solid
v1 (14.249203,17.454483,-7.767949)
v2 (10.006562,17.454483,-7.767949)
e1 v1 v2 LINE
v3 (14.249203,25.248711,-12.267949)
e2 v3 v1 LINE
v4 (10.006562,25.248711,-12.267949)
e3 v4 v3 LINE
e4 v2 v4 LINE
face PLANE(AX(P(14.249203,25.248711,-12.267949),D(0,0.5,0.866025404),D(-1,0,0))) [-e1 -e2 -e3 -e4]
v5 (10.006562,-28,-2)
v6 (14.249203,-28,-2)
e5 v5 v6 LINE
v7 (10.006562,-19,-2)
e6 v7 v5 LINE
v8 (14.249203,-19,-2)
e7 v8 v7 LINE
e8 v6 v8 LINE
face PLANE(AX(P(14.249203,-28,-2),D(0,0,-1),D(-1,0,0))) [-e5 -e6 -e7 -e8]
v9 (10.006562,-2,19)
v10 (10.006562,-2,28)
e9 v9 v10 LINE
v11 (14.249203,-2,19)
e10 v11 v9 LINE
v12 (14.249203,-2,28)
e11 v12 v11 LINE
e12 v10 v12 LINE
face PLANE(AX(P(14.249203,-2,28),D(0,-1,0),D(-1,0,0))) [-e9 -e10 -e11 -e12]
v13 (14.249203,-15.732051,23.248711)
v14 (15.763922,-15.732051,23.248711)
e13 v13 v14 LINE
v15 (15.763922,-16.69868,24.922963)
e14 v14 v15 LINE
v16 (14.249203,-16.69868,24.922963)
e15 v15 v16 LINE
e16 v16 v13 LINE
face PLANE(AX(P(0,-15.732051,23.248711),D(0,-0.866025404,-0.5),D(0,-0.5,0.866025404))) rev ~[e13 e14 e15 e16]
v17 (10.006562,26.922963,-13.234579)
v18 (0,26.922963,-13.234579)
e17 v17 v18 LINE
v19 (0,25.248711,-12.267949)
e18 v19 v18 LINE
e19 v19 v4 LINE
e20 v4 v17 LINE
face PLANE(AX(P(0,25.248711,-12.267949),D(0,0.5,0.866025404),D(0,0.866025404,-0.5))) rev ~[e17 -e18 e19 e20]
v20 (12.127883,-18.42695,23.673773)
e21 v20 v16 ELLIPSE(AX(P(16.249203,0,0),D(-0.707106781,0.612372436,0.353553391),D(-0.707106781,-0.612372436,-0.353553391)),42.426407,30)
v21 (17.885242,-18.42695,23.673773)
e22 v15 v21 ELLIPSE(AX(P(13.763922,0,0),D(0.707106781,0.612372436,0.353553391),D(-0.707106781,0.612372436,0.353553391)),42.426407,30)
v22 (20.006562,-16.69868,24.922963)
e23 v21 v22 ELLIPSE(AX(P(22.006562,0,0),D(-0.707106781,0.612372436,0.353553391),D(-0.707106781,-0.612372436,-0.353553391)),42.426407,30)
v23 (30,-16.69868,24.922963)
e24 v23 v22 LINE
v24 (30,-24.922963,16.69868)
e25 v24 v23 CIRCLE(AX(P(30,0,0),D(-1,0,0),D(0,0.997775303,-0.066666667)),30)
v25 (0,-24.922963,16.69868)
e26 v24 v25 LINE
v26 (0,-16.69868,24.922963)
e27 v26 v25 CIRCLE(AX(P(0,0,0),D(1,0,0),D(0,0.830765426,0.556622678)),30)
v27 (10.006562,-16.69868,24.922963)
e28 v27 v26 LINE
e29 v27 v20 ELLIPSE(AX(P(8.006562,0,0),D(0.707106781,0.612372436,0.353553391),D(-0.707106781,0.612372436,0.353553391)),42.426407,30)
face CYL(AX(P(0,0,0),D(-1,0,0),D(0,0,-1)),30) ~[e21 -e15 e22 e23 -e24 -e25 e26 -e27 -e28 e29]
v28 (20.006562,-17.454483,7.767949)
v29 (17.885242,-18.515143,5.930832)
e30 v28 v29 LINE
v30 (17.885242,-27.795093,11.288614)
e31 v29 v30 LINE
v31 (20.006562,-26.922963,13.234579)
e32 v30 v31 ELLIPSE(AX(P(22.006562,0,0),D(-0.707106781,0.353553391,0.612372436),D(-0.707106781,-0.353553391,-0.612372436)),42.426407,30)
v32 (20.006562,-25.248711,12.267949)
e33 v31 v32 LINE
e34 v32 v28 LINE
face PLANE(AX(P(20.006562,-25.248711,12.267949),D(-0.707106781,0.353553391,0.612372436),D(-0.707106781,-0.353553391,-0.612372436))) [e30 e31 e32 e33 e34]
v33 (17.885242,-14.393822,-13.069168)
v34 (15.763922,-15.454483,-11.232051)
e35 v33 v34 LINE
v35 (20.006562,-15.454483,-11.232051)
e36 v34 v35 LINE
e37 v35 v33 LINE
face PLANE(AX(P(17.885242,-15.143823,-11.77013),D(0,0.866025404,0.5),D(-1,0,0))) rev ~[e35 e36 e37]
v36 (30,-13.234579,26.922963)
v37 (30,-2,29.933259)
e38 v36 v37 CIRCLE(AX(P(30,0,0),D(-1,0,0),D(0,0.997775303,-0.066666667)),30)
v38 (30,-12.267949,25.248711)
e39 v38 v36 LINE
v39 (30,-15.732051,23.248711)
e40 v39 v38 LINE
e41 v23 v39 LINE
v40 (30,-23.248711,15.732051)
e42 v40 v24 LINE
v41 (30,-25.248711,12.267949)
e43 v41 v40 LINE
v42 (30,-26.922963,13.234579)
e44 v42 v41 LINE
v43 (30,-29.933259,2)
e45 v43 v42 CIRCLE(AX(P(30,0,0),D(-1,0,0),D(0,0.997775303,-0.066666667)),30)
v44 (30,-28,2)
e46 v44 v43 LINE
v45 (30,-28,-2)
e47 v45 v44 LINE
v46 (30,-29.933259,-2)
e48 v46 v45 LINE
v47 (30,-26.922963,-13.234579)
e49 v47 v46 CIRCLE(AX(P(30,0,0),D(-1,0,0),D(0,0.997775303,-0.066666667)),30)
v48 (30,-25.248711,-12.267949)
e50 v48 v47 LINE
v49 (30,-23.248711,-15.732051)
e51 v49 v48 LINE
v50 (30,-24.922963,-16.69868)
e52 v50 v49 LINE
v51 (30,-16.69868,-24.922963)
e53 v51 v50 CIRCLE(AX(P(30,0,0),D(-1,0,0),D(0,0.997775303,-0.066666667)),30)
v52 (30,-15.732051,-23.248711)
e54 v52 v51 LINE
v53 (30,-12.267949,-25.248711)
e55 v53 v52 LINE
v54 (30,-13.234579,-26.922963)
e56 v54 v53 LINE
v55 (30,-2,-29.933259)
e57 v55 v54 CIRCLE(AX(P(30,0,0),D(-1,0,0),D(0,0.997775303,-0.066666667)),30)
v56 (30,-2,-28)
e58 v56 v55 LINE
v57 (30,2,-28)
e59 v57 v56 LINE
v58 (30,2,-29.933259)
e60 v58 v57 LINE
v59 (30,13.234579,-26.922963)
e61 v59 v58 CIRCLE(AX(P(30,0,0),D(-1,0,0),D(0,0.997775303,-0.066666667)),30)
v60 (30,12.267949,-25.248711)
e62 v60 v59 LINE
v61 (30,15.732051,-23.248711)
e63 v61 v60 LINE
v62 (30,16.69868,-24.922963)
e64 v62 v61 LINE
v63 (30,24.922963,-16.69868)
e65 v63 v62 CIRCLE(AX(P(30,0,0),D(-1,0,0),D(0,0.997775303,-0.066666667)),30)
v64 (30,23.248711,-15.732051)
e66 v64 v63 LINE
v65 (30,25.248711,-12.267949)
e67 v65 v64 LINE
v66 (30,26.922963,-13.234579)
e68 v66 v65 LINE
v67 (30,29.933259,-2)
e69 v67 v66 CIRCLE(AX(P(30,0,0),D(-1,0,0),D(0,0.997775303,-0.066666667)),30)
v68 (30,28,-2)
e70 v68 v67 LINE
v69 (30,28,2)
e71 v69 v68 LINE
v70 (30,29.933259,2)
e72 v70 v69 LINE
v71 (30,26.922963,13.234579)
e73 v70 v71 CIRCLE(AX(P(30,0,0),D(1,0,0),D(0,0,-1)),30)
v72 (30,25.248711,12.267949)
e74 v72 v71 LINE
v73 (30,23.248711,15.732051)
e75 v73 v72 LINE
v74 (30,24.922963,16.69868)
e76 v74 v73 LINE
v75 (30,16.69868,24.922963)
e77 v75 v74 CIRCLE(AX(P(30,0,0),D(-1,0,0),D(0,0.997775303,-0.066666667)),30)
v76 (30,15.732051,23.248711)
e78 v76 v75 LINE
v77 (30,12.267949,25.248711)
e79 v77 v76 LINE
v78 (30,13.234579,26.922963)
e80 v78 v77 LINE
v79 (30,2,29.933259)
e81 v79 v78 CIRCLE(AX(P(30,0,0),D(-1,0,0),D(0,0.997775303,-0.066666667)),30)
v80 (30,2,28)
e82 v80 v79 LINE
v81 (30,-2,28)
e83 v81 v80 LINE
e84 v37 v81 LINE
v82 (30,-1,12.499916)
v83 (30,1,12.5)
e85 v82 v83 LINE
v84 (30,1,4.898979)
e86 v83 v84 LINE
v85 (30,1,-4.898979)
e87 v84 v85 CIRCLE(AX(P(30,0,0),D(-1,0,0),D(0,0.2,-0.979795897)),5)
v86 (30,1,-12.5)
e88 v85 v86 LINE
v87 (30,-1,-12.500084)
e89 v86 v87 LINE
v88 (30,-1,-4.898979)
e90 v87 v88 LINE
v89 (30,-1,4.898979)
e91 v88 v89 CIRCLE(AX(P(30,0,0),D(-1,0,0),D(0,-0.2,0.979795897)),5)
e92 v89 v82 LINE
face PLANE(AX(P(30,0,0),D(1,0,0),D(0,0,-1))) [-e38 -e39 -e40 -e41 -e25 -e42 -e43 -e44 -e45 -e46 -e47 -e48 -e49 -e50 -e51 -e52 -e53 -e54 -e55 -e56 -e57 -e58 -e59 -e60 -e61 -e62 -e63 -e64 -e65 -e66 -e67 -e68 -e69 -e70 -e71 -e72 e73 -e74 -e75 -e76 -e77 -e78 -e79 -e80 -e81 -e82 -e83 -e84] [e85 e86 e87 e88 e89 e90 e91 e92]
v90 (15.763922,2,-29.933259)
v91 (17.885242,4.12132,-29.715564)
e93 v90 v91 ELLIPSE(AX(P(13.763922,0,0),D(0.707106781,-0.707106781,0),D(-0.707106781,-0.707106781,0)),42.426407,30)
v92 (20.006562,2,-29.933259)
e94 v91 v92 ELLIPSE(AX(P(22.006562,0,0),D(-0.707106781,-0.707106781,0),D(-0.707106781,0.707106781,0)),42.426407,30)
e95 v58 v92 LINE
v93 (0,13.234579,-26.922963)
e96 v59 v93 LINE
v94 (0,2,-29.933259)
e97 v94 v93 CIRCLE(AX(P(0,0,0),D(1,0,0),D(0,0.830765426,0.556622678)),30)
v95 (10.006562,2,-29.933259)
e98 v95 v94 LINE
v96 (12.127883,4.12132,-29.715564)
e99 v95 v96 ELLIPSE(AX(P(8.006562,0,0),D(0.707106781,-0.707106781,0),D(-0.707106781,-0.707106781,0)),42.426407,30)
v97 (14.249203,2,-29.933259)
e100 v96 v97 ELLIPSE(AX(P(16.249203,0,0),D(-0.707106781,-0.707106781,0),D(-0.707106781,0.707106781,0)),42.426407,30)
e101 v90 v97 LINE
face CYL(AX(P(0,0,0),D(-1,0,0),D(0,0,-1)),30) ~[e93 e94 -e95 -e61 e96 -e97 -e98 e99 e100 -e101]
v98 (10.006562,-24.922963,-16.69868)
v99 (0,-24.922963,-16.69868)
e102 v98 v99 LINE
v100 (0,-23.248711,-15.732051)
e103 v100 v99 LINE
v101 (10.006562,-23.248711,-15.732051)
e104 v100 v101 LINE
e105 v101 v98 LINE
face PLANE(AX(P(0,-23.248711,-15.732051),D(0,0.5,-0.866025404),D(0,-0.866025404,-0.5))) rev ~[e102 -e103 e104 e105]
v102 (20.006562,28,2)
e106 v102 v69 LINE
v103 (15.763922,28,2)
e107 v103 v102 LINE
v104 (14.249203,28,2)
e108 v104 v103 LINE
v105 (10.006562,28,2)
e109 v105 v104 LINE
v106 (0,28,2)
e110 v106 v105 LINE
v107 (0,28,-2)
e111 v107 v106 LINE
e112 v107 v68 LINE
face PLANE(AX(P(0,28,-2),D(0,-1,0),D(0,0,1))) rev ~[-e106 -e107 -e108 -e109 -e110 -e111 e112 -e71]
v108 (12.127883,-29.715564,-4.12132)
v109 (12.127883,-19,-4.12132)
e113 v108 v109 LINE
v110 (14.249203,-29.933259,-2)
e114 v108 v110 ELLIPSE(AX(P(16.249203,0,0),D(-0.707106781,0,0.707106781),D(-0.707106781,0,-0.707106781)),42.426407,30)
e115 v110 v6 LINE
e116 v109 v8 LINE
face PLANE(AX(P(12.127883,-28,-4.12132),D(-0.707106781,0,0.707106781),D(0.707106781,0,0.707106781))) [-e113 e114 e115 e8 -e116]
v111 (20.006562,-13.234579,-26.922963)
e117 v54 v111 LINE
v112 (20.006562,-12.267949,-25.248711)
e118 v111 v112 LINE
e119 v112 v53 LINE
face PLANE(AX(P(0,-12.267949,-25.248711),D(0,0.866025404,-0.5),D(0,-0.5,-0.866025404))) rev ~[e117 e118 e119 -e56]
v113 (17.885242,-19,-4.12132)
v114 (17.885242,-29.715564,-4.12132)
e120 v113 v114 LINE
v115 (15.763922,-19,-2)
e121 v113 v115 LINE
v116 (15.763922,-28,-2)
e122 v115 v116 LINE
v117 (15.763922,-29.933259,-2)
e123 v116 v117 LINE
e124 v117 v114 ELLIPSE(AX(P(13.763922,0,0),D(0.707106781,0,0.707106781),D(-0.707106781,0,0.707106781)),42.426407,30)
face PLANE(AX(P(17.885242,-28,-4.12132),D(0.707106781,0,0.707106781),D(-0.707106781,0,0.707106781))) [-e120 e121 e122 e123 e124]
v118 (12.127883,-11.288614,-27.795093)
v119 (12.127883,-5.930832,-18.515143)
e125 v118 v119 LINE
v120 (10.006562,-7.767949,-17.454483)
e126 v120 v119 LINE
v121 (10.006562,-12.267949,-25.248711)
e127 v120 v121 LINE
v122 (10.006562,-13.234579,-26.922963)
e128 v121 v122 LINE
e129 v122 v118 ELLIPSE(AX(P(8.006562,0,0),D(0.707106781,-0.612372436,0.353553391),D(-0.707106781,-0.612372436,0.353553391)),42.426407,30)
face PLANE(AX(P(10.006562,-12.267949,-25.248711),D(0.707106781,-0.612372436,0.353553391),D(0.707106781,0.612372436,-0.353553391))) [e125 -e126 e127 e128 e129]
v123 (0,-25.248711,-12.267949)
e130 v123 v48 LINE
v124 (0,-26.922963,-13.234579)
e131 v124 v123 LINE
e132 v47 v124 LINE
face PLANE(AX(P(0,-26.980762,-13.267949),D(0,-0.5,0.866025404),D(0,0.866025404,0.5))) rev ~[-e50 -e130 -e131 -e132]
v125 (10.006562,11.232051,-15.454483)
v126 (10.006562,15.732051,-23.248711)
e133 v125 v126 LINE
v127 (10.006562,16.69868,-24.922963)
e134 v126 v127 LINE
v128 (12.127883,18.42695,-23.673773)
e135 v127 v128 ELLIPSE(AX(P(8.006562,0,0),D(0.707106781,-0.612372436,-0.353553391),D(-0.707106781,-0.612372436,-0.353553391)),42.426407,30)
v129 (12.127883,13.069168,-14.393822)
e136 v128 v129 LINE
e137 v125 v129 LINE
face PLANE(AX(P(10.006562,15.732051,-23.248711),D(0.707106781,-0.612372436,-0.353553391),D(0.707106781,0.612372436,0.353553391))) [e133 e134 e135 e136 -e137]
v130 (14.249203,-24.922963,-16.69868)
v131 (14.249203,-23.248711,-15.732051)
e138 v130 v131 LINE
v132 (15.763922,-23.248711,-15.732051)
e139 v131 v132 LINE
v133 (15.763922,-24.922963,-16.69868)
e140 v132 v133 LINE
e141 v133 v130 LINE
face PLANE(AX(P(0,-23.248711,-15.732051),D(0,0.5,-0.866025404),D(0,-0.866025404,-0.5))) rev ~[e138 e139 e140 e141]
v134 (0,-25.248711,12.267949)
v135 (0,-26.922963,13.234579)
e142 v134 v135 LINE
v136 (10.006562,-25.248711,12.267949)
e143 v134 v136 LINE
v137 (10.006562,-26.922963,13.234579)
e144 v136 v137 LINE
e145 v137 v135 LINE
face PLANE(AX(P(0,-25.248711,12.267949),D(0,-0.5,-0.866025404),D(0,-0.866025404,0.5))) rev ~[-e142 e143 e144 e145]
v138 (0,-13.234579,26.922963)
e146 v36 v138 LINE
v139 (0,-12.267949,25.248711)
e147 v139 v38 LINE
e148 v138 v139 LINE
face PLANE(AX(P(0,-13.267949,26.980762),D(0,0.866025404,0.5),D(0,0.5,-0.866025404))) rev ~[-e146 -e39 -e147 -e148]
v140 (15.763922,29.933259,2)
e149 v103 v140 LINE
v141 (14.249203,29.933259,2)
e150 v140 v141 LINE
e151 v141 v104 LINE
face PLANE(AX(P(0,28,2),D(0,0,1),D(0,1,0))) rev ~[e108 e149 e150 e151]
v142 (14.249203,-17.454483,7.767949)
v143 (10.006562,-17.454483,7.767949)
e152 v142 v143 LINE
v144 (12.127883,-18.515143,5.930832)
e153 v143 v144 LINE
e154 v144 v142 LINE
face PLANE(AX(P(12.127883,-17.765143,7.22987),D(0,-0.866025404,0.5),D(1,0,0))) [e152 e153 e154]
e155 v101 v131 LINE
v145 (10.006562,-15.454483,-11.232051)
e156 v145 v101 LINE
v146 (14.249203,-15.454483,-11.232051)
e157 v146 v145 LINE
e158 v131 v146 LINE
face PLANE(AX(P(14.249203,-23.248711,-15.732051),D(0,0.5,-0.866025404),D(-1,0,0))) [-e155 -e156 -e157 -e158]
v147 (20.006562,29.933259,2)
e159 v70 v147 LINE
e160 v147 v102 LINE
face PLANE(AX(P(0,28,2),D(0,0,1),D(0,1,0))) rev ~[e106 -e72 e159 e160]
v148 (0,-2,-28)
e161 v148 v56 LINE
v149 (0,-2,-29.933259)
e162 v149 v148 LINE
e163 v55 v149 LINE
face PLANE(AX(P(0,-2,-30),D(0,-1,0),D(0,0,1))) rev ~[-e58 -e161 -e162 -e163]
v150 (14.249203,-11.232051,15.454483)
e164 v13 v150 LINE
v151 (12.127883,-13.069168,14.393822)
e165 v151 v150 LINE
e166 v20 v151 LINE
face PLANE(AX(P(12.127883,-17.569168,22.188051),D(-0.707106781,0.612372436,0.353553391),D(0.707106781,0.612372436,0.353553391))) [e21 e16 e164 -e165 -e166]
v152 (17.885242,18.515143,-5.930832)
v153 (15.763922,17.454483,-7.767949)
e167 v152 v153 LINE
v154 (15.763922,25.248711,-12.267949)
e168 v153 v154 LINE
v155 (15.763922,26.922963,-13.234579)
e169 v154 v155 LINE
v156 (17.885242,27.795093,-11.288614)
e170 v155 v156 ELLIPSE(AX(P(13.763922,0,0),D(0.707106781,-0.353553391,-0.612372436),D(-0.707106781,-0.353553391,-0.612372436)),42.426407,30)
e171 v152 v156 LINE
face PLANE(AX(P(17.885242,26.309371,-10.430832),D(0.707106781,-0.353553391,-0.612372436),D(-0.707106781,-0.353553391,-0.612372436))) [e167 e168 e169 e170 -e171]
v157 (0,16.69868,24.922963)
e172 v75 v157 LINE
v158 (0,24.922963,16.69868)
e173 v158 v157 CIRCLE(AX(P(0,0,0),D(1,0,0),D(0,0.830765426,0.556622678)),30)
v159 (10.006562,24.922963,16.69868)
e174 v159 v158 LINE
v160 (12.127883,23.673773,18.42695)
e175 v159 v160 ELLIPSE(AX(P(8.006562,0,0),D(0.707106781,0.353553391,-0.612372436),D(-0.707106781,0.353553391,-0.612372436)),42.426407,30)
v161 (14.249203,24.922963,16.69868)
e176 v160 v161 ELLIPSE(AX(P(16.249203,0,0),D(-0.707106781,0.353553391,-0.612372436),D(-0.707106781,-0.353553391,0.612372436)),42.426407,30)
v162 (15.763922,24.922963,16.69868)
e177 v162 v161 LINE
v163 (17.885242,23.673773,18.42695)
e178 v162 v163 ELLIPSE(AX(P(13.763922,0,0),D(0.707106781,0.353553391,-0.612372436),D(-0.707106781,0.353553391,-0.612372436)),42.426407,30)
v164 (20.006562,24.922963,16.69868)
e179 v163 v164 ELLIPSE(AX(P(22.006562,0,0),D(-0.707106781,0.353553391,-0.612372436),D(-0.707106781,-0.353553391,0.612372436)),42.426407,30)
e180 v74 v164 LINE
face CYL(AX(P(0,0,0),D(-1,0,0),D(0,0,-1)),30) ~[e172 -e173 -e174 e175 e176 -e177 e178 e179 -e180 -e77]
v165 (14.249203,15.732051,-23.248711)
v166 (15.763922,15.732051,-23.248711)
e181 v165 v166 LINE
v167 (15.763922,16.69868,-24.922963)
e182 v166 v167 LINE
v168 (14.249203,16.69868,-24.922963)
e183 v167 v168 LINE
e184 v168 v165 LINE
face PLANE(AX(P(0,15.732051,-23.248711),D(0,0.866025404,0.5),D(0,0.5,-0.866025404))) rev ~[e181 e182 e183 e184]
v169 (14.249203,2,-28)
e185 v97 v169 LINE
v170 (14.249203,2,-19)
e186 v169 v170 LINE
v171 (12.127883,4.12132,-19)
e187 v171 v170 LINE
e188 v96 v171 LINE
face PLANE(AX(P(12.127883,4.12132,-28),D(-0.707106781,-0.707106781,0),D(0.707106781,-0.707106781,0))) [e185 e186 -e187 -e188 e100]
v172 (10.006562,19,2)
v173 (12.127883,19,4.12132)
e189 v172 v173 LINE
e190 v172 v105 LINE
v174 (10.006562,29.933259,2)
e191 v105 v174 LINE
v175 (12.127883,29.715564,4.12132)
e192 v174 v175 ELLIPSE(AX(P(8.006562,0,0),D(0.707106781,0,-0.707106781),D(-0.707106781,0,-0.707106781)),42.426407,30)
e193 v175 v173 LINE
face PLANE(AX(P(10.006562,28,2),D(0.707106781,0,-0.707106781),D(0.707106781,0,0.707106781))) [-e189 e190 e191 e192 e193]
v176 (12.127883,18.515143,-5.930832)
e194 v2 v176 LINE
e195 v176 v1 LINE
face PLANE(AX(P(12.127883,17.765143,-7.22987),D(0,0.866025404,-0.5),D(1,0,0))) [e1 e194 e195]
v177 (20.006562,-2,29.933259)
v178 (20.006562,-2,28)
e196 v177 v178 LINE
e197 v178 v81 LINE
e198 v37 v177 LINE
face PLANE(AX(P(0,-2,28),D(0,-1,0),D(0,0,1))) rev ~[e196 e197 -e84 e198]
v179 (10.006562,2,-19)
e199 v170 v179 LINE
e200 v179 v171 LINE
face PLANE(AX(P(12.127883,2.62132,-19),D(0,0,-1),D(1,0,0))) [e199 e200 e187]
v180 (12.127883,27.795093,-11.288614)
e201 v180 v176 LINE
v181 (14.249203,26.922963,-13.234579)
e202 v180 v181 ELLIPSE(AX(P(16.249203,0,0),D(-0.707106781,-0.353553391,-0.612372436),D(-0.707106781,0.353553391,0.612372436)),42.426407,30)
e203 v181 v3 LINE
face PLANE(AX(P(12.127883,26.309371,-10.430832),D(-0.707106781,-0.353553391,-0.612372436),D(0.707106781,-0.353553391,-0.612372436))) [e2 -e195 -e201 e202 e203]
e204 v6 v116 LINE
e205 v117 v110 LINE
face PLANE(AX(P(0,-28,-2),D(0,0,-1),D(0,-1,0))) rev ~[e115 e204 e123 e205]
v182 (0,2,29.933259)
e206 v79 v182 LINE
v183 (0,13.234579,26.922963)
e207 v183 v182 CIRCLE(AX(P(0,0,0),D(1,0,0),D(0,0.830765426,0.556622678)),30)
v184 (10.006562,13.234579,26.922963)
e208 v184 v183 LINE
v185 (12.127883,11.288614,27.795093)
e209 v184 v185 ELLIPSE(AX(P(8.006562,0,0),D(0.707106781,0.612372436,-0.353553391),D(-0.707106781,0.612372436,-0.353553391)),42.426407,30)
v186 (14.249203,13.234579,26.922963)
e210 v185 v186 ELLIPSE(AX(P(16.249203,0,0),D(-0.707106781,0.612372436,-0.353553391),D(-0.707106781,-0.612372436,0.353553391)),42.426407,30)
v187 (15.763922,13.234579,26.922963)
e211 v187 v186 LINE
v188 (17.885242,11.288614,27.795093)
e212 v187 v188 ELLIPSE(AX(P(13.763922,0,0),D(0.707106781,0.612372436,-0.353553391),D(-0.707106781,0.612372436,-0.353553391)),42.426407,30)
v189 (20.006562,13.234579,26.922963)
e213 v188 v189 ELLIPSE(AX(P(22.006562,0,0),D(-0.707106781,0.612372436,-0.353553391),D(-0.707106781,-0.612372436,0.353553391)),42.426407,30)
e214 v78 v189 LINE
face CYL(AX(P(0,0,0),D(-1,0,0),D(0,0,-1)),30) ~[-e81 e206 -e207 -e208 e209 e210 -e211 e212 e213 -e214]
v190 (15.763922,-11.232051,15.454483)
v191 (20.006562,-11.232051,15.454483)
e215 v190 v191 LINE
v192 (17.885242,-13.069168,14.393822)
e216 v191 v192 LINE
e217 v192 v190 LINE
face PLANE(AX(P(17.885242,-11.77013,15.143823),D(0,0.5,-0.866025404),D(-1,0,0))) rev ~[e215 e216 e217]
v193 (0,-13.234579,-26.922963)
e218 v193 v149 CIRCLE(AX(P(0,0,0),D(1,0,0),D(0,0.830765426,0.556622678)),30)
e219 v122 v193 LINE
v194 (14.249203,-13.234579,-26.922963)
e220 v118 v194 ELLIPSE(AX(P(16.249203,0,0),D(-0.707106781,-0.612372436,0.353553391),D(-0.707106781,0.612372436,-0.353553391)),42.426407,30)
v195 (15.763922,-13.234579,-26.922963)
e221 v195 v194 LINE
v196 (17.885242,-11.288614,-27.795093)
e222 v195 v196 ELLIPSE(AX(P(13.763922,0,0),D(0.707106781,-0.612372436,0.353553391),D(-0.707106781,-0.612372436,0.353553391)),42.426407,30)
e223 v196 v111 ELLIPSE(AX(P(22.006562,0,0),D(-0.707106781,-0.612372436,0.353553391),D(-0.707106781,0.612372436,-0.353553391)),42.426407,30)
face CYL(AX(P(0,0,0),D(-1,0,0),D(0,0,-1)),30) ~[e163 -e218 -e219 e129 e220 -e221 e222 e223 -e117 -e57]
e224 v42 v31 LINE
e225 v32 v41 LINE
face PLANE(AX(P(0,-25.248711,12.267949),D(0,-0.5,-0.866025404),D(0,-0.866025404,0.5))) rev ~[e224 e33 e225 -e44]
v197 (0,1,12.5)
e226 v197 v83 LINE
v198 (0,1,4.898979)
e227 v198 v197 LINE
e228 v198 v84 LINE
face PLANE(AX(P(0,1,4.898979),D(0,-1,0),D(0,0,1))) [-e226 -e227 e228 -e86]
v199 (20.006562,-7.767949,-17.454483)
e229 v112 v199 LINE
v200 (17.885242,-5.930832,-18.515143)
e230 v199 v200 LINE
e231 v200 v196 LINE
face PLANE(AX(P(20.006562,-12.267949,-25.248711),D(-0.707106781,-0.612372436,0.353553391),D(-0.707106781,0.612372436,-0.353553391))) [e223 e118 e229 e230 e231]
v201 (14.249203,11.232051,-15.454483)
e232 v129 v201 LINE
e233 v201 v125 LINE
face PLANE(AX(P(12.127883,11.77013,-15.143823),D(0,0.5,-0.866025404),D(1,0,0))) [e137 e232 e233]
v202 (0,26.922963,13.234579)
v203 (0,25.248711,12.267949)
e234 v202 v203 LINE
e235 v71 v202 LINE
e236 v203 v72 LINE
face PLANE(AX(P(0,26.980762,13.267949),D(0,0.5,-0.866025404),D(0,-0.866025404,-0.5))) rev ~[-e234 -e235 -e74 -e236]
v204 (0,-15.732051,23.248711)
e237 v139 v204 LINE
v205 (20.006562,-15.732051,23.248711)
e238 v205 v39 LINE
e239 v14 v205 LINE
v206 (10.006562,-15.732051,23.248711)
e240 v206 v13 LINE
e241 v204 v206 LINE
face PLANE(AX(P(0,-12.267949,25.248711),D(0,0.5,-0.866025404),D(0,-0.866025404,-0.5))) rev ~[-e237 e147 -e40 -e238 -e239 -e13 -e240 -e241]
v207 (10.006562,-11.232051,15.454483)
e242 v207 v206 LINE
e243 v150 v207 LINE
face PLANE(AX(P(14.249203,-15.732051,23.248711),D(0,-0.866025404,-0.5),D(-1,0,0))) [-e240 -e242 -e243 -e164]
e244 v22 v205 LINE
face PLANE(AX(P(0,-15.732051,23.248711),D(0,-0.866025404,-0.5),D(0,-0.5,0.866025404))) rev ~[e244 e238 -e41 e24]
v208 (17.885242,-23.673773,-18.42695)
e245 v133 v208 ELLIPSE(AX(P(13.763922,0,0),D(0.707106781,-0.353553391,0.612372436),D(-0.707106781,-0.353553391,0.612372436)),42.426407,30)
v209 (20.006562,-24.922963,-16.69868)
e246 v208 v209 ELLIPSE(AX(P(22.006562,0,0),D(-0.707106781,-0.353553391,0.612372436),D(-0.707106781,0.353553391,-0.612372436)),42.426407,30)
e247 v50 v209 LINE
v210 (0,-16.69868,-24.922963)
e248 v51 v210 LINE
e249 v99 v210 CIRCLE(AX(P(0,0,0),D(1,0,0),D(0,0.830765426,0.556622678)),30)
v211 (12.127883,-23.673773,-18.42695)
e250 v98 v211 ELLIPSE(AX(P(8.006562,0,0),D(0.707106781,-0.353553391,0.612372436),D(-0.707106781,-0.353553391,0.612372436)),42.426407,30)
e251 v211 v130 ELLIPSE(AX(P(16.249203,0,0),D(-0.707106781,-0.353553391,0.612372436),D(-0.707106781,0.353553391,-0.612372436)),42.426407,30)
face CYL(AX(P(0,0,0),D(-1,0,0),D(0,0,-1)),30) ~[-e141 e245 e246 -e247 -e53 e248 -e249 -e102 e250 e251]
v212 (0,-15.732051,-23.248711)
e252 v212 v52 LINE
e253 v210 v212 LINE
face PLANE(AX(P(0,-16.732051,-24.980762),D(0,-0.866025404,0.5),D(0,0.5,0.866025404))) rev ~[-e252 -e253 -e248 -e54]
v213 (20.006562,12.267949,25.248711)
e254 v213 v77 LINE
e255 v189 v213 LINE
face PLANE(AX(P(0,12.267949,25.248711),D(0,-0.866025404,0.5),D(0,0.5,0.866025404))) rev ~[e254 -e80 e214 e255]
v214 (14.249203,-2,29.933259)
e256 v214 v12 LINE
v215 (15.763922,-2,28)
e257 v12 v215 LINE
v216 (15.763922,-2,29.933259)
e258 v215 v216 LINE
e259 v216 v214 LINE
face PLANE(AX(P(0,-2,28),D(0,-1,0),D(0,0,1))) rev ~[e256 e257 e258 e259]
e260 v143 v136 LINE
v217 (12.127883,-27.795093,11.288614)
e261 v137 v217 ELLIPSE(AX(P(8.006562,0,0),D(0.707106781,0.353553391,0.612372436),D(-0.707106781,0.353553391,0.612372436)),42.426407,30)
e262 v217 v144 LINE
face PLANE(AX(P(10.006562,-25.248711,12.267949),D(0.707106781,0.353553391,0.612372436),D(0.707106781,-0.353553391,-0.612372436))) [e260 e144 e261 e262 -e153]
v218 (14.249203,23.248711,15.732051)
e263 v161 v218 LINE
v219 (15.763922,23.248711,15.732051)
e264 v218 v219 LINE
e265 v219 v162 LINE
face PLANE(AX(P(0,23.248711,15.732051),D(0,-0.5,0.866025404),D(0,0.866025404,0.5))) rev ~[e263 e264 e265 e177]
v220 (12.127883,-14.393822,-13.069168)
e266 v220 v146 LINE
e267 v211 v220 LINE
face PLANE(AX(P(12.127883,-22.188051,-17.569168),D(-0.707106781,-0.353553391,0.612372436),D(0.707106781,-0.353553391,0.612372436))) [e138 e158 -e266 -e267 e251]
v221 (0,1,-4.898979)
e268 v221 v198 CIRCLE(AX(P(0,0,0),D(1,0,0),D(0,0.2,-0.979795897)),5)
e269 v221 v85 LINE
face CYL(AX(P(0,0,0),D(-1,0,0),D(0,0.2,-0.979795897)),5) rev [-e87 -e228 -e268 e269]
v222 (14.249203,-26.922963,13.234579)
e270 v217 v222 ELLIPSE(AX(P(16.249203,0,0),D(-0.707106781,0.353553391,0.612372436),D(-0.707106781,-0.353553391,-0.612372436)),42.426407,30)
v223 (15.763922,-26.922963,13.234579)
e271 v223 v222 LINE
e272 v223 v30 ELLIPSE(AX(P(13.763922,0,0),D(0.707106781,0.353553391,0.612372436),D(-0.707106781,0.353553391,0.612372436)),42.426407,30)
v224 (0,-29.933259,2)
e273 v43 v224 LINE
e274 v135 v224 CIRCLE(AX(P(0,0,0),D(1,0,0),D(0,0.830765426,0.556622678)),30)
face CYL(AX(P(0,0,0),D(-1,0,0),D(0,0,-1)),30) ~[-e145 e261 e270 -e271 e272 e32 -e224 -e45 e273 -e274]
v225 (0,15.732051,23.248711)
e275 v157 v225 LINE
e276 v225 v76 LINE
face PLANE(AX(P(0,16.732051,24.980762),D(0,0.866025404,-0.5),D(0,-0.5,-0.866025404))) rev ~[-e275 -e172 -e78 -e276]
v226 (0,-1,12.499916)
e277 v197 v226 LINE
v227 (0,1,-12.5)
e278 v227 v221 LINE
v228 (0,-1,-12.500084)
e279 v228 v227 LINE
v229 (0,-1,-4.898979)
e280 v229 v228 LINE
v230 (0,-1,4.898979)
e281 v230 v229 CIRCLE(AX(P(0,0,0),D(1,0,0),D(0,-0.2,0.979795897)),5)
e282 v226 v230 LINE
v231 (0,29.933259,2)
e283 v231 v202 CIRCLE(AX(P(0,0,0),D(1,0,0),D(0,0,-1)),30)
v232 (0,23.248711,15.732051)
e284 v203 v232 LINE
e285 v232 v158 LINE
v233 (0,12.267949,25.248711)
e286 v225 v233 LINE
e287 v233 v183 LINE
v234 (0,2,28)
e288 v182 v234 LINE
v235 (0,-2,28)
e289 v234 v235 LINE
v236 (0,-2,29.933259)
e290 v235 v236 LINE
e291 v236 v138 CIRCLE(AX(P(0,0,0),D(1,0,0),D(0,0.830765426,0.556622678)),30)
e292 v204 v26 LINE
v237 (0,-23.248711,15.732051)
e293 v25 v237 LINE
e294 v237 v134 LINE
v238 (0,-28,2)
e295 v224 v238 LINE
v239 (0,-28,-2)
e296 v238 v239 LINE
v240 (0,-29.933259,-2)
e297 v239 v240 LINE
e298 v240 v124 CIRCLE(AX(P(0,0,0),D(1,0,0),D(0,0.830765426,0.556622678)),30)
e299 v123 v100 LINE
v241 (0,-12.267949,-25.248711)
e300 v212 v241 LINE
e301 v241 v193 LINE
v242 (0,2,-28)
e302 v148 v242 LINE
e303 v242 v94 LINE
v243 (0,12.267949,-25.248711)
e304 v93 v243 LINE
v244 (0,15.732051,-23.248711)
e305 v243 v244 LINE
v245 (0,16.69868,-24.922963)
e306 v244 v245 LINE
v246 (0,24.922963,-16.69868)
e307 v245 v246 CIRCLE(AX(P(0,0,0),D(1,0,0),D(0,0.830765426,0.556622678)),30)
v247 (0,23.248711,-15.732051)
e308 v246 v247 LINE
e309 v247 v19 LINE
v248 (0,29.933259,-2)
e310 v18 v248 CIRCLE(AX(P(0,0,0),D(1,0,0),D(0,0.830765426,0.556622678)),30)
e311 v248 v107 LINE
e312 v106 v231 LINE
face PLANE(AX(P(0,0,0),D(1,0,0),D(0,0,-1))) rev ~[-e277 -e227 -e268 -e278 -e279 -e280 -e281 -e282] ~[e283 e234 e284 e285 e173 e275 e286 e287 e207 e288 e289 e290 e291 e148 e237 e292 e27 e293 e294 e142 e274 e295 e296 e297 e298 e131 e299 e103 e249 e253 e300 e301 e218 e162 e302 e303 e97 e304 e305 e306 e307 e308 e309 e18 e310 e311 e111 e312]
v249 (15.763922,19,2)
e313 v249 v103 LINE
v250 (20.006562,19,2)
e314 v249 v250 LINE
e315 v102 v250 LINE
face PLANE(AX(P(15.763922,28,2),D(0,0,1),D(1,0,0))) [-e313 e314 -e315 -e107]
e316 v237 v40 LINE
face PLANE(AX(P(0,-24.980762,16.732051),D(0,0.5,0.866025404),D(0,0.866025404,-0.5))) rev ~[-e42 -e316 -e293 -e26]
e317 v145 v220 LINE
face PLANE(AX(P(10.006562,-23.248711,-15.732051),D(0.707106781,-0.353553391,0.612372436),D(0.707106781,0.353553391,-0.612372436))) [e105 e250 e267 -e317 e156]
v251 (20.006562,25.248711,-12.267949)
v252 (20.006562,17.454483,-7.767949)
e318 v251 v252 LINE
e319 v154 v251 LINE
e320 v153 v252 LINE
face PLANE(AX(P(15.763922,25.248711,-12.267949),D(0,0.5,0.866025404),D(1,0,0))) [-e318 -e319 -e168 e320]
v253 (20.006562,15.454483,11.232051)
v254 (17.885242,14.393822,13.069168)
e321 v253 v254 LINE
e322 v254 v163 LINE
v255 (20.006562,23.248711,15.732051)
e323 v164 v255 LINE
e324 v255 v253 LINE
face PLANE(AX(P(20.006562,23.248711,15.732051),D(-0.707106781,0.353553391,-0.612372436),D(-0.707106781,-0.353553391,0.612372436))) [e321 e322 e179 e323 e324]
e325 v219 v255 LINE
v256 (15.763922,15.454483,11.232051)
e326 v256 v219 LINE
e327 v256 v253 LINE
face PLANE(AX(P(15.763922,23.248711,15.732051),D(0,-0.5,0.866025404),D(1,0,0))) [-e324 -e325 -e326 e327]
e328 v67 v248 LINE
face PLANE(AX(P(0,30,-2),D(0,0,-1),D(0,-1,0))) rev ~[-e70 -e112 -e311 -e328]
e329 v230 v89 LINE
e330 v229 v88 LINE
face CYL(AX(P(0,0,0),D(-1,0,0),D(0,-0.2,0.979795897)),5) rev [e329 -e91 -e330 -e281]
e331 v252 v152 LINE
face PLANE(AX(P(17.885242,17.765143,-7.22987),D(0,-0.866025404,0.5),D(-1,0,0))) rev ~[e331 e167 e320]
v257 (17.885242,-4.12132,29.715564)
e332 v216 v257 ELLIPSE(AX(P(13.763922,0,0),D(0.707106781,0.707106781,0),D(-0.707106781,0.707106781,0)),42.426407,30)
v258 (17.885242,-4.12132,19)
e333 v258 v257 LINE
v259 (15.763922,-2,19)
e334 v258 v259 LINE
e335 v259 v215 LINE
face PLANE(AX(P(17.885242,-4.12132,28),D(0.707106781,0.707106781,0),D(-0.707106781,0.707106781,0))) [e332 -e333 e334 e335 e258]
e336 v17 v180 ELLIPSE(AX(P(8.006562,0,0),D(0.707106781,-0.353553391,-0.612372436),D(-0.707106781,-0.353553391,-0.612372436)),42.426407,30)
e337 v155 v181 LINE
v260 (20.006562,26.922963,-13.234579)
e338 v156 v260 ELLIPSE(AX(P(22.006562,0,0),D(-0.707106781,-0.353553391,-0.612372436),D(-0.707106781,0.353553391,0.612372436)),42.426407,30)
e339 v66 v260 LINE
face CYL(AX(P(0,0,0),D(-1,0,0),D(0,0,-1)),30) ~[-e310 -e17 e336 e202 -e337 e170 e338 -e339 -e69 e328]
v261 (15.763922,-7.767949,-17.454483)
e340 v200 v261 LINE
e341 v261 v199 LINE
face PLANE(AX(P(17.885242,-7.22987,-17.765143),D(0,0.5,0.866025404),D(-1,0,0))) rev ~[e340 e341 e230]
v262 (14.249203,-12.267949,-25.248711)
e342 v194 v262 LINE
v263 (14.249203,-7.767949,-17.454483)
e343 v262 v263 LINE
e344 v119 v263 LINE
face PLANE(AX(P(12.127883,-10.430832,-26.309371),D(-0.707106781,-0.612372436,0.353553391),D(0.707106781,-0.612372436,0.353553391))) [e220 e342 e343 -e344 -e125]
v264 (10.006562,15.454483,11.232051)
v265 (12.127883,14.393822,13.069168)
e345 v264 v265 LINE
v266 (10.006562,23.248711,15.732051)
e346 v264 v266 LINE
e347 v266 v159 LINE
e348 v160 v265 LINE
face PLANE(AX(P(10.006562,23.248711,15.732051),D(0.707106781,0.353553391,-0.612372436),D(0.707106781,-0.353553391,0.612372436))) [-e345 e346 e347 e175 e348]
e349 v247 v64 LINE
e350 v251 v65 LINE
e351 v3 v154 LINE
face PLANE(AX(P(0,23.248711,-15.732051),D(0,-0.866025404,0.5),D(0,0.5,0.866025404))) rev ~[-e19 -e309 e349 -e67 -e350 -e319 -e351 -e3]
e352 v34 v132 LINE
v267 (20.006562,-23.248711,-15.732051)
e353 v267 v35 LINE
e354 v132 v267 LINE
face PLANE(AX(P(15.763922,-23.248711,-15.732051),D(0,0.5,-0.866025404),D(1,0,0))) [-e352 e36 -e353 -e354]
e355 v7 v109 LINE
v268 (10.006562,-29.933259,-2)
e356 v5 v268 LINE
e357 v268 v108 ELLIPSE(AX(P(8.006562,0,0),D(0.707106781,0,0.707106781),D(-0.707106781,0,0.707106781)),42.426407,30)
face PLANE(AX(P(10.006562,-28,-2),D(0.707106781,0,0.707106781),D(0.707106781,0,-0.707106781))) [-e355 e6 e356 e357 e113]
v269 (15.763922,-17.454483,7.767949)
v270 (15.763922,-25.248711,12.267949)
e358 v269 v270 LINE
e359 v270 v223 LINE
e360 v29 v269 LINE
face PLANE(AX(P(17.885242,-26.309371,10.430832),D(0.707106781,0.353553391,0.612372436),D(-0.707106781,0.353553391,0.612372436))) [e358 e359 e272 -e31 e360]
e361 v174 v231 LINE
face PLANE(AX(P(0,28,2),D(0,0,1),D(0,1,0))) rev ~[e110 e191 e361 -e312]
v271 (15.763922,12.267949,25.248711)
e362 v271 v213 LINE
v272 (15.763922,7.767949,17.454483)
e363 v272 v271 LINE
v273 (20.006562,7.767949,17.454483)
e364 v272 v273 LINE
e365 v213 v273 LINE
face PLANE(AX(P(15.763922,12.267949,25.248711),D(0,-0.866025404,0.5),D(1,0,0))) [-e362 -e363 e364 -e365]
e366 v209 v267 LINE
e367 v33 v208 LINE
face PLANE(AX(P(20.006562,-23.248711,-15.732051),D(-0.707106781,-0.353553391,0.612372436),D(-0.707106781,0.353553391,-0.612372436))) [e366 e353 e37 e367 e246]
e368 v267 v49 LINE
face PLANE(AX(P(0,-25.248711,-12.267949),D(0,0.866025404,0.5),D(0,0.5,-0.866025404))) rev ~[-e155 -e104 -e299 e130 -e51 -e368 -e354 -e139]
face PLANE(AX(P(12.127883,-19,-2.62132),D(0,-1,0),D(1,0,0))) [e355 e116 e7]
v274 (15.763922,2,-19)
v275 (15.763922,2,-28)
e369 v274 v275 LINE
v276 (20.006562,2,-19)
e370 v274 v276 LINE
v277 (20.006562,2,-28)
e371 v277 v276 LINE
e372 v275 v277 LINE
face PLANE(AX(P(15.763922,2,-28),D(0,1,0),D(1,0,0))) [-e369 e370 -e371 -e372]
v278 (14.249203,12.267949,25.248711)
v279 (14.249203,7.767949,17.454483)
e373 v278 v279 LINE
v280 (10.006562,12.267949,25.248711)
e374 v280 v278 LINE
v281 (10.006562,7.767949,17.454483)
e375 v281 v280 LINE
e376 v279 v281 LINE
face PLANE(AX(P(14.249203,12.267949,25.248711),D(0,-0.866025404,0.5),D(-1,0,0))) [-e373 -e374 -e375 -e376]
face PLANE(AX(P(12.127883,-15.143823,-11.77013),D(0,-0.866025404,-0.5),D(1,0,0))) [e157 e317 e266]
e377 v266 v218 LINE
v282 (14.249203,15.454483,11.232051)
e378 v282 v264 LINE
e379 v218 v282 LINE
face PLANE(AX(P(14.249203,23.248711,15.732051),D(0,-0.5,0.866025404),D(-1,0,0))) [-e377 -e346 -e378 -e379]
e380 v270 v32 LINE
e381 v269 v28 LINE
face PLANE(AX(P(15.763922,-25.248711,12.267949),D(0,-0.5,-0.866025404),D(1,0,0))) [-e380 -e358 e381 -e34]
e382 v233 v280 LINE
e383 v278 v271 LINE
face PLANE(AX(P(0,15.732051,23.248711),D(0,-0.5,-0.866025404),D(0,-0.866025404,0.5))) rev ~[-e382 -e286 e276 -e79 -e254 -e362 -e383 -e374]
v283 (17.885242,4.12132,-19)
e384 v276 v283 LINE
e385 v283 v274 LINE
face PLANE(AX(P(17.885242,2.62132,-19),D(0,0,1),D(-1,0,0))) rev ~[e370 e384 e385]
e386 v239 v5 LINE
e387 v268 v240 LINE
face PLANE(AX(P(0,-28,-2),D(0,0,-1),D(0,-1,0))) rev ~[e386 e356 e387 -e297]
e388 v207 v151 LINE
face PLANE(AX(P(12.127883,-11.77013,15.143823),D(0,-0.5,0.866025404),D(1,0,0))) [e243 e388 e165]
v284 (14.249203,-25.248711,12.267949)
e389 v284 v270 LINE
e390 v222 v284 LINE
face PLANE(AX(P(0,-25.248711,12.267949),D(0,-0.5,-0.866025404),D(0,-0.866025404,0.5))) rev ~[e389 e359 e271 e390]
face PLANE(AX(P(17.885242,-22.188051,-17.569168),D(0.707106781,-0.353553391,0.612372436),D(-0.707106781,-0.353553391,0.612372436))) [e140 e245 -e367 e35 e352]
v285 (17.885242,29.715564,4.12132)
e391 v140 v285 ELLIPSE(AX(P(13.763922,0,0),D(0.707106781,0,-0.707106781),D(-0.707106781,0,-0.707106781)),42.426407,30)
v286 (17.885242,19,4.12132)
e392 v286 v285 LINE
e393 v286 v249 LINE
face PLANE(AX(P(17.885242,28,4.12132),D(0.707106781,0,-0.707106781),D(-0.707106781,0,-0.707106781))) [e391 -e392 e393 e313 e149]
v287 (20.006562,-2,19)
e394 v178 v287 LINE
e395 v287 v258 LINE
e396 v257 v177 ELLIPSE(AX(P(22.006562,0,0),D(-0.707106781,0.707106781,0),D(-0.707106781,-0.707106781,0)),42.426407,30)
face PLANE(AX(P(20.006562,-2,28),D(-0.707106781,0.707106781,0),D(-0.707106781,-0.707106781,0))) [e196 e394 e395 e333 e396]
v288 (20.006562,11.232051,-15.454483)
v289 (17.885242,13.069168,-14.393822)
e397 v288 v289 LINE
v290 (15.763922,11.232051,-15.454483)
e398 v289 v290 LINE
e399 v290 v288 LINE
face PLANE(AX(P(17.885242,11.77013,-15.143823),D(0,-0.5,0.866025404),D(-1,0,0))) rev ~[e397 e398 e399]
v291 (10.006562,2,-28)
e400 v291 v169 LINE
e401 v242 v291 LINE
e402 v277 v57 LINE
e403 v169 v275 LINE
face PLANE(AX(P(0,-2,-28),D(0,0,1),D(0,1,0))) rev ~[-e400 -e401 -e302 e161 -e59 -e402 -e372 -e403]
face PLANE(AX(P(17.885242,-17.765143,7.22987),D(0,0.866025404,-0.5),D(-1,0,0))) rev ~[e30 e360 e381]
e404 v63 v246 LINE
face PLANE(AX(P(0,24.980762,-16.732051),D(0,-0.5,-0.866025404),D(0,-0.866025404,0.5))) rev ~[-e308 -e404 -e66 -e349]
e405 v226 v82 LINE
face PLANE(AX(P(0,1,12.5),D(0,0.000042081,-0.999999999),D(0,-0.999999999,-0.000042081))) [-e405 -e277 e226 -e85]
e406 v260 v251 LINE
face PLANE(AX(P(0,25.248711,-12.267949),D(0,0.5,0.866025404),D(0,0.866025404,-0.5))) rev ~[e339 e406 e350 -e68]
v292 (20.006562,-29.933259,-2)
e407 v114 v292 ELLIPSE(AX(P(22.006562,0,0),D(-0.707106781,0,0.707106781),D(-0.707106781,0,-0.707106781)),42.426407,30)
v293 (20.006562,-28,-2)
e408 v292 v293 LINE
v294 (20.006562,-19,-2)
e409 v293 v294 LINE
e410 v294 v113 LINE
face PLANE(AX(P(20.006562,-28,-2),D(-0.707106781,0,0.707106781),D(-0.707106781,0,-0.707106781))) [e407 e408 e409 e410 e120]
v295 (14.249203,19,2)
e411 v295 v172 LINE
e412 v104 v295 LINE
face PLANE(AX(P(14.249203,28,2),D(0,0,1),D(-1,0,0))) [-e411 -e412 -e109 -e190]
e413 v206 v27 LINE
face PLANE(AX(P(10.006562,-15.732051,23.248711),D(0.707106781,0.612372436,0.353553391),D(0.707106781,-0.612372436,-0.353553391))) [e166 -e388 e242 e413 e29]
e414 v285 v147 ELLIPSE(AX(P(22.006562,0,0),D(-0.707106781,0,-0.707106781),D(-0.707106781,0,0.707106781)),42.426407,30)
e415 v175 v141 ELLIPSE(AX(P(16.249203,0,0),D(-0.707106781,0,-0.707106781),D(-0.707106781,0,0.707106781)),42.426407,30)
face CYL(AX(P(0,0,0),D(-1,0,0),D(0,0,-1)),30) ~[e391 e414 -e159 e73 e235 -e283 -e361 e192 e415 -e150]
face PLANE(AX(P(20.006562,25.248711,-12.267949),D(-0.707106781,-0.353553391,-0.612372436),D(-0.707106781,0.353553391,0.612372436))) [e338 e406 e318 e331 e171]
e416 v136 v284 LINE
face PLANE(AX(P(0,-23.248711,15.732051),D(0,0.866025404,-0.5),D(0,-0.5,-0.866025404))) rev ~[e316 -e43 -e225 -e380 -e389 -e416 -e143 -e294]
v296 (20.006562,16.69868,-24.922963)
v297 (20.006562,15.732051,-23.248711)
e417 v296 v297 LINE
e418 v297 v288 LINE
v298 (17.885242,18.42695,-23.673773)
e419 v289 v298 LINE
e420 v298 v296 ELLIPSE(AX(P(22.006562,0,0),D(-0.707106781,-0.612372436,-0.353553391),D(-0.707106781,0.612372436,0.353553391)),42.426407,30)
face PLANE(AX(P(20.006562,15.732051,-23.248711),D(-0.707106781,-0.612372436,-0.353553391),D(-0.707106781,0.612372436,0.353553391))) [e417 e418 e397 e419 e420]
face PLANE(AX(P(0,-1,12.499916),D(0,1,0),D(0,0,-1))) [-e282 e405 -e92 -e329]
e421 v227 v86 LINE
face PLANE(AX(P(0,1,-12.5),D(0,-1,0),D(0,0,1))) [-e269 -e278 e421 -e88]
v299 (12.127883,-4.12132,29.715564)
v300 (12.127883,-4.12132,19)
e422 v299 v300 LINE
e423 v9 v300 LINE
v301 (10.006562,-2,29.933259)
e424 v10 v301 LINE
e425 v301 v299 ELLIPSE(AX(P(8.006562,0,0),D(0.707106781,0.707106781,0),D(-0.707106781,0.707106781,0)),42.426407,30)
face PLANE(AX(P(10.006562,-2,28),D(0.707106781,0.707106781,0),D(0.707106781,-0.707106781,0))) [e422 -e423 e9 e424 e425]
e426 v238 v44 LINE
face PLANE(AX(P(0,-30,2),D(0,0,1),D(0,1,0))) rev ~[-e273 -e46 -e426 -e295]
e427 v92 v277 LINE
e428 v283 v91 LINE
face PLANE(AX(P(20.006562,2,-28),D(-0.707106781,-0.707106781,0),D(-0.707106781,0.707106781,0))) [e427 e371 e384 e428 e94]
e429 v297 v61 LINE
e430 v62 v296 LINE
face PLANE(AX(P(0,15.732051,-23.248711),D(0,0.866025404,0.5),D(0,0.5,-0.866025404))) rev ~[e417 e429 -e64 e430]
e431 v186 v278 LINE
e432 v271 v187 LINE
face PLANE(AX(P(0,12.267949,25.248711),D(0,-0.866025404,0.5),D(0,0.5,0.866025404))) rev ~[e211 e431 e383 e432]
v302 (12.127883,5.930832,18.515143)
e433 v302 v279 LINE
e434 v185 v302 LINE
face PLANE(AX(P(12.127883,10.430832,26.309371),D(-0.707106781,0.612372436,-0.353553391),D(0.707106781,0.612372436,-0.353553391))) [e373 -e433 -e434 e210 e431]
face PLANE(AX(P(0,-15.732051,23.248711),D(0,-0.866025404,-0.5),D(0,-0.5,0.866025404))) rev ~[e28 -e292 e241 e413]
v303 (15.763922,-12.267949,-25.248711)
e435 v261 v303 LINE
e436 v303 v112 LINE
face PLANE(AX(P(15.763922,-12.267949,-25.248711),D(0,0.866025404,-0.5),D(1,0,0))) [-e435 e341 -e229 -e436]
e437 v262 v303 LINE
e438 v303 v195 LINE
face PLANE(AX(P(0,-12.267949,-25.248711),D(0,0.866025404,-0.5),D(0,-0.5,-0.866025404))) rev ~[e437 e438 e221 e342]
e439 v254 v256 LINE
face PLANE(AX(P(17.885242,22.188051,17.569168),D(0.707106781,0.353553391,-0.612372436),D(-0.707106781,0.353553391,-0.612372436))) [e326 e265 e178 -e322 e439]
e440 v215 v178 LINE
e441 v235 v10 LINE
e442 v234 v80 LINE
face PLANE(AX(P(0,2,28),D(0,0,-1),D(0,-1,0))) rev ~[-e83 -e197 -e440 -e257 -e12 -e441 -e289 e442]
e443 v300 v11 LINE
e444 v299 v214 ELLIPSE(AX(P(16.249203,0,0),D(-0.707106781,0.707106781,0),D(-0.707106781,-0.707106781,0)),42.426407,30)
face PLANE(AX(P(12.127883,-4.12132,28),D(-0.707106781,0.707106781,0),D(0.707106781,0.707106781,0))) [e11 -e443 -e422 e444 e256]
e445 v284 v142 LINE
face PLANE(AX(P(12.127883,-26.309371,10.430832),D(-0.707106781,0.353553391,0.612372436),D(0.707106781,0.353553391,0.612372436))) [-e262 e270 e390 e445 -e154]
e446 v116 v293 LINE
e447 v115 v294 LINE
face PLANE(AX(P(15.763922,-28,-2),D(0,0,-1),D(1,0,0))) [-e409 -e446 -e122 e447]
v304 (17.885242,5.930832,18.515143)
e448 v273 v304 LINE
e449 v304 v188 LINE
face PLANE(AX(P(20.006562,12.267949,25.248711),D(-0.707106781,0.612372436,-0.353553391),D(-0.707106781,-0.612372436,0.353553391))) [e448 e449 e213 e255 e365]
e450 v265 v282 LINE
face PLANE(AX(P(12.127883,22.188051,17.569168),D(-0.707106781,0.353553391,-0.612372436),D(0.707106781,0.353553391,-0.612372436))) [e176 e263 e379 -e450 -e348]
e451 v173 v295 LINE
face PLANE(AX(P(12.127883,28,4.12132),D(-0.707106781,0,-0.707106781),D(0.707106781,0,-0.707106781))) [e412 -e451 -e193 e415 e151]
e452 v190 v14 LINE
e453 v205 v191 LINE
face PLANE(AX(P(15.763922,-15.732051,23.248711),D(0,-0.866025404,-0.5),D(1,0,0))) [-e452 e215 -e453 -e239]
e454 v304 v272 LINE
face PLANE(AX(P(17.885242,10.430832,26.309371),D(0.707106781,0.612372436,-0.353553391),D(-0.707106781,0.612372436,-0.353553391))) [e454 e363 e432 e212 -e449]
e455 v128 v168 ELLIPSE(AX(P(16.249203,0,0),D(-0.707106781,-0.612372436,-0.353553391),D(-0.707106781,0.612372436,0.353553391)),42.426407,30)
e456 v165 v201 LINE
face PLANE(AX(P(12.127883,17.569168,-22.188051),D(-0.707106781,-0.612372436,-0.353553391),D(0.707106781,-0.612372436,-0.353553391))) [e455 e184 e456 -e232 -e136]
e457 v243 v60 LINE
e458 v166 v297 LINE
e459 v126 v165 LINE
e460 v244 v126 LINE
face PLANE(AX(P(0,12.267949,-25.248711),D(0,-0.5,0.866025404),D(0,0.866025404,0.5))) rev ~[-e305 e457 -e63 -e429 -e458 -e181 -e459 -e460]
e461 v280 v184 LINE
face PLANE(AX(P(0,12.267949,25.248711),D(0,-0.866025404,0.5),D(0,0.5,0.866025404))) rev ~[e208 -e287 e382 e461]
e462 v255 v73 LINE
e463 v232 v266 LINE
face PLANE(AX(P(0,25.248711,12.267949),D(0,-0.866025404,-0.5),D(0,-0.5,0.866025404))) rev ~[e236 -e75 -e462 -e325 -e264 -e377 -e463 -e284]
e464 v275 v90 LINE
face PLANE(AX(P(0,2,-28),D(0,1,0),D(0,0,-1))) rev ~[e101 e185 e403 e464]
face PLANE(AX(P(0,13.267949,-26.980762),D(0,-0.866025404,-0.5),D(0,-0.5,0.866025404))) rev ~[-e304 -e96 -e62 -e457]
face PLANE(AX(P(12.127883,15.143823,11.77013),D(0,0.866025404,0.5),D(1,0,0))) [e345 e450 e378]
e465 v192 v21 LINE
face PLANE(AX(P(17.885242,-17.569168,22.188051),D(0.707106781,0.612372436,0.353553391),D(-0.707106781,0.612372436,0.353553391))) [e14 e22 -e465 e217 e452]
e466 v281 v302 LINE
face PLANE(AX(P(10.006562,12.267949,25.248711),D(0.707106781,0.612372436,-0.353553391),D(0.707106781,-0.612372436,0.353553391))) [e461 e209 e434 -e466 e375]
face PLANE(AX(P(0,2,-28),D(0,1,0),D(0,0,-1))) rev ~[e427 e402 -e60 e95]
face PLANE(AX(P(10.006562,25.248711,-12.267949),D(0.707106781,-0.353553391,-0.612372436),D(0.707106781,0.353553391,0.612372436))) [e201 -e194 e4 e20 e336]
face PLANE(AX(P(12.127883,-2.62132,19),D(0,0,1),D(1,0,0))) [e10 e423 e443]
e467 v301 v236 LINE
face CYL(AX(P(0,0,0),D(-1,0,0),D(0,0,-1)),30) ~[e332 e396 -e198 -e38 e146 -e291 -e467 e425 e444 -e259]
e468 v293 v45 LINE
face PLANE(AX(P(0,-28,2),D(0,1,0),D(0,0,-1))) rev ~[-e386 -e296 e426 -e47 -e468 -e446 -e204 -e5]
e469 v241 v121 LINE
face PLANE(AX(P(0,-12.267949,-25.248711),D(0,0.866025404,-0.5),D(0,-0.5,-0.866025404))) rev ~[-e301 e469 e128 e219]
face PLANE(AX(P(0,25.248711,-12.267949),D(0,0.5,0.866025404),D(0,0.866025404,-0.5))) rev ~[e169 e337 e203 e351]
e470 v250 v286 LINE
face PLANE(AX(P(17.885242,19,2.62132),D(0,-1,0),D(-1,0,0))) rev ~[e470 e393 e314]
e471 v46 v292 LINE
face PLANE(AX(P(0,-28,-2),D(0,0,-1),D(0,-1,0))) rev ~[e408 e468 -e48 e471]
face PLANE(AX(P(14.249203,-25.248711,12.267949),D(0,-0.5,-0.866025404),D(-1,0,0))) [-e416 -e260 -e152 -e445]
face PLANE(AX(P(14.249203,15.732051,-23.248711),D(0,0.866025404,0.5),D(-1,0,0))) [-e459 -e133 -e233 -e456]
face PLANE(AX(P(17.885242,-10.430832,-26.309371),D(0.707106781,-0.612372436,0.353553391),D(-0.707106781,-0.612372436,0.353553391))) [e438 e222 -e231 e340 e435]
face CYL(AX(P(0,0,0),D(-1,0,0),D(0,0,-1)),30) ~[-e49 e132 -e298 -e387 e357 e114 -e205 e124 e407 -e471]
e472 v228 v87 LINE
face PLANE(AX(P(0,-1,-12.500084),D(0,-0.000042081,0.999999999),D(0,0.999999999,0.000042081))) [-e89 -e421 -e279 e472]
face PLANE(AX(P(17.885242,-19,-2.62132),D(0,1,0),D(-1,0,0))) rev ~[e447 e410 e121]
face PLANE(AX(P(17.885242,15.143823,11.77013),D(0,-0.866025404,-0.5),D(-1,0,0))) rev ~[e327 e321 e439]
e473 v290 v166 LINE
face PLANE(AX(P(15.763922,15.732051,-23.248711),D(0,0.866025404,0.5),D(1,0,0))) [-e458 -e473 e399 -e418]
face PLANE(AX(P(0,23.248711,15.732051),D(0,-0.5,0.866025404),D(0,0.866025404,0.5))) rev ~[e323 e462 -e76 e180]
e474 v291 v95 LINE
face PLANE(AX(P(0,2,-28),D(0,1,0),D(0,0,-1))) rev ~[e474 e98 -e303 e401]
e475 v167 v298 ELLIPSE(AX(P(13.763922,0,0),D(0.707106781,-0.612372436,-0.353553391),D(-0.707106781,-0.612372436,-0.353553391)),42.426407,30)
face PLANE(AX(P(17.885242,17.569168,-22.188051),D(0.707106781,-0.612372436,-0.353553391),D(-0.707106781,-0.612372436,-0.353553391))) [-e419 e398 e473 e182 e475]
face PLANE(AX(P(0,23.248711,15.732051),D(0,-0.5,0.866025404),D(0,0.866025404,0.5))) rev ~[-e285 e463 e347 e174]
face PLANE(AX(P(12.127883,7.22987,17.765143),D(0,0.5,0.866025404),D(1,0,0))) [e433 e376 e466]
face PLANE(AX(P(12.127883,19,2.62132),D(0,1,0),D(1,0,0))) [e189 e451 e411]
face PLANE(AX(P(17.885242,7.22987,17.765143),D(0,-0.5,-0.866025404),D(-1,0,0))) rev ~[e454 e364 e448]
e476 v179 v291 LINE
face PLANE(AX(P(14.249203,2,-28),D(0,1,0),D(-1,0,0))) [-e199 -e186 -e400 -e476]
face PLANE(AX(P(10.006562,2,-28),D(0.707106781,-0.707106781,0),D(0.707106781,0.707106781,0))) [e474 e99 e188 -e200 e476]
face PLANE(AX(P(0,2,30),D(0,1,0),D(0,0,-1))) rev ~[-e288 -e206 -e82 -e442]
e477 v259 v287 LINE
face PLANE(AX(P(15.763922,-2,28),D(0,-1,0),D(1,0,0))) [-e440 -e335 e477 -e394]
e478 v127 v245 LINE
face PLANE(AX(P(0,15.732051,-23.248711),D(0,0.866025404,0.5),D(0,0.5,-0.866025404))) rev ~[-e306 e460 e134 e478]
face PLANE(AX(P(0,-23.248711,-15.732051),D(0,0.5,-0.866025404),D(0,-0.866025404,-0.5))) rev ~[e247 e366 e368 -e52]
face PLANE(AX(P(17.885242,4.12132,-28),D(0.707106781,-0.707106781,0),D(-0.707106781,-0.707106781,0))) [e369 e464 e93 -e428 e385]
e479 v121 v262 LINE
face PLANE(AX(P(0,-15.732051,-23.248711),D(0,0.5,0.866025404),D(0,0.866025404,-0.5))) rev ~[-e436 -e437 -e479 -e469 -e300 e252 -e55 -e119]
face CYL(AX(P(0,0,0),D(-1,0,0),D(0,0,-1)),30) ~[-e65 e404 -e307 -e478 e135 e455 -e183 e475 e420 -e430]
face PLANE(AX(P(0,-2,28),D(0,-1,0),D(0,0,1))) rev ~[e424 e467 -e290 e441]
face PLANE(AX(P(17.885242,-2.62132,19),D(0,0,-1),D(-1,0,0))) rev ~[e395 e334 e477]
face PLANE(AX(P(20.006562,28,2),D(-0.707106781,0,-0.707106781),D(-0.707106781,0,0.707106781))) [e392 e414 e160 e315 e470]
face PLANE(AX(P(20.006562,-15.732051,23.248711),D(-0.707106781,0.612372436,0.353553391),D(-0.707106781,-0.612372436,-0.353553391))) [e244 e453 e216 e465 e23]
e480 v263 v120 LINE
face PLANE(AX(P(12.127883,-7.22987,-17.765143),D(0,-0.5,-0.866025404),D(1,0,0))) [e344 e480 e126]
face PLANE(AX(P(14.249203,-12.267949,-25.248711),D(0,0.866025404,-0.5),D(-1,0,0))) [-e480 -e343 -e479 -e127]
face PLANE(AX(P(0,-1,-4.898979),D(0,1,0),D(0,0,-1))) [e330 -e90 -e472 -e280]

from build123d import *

# Parameters (mm, degrees)
SKETCH_1_R               = 30
EXTRUDE_1_DEPTH          = 30
CUT_EXTRUDE_1_DEPTH      = 52.961524227
CUT_EXTRUDE_2_DEPTH      = 52.961524227
CUT_EXTRUDE_3_DEPTH      = 9
PATTERN_CIRCULAR_2_COUNT = 12


with BuildPart() as part:
    # 草图1 → 凸台-拉伸1 (new body)
    with BuildSketch(Plane(origin=(0, 0, 0), x_dir=(0, 0, -1), z_dir=(1, 0, 0))):
        Circle(SKETCH_1_R)
    extrude(amount=EXTRUDE_1_DEPTH)

    # 草图2 → 切除-拉伸1 (cut, through all)
    with BuildSketch(Plane(origin=(0, 0, 0), x_dir=(0, 0, -1), z_dir=(1, 0, 0))):
        Polygon((0, 30), (2, 30), (2, 28), (-2, 28), (-2, 30), align=None)
    cut_extrude_1 = extrude(amount=CUT_EXTRUDE_1_DEPTH, mode=Mode.SUBTRACT)

    # 草图3 → 切除-拉伸2 (cut, through all)
    with BuildSketch(Plane(origin=(0, 0, 0), x_dir=(0, 0, -1), z_dir=(1, 0, 0))):
        with BuildLine():
            Line((4.898979486, -0.999999998), (12.500084161, -0.999999998))
            Line((12.500084161, -0.999999998), (12.5, 1))
            Line((12.5, 1), (4.898979486, 1))
            ThreePointArc((4.898979486, 1), (0, 5), (-4.898979486, 1))
            Line((-4.898979486, 1), (-12.5, 1))
            Line((-12.5, 1), (-12.499915839, -0.999999998))
            Line((-12.499915839, -0.999999998), (-4.898979486, -0.999999998))
            ThreePointArc((-4.898979486, -0.999999998), (0, -5), (4.898979486, -0.999999998))
        make_face()
    extrude(amount=CUT_EXTRUDE_2_DEPTH, mode=Mode.SUBTRACT)

    # 草图4 → 切除-拉伸3 (cut, symmetric)
    with BuildSketch(Plane(origin=(0, 28, 0), x_dir=(1, 0, 0), z_dir=(0, 1, 0))):
        Polygon((14.249202979, -2), (10.006562292, -2), (12.127882636, -4.121320344), align=None)
        Polygon((15.763921605, -2), (20.006562292, -2), (17.885241949, -4.121320344), align=None)
    cut_extrude_3 = extrude(amount=CUT_EXTRUDE_3_DEPTH, both=True, mode=Mode.SUBTRACT)

    # 阵列(圆周)2: 切除-拉伸1, 切除-拉伸3 ×12 about axis
    pattern_circular_2_axis = Axis((30, 0, 0), (-1, 0, 0))
    add([cut_extrude_1.rotate(pattern_circular_2_axis, i * 360 / PATTERN_CIRCULAR_2_COUNT) for i in range(1, PATTERN_CIRCULAR_2_COUNT)], mode=Mode.SUBTRACT)
    add([cut_extrude_3.rotate(pattern_circular_2_axis, i * 360 / PATTERN_CIRCULAR_2_COUNT) for i in range(1, PATTERN_CIRCULAR_2_COUNT)], mode=Mode.SUBTRACT)


solid = part.part
